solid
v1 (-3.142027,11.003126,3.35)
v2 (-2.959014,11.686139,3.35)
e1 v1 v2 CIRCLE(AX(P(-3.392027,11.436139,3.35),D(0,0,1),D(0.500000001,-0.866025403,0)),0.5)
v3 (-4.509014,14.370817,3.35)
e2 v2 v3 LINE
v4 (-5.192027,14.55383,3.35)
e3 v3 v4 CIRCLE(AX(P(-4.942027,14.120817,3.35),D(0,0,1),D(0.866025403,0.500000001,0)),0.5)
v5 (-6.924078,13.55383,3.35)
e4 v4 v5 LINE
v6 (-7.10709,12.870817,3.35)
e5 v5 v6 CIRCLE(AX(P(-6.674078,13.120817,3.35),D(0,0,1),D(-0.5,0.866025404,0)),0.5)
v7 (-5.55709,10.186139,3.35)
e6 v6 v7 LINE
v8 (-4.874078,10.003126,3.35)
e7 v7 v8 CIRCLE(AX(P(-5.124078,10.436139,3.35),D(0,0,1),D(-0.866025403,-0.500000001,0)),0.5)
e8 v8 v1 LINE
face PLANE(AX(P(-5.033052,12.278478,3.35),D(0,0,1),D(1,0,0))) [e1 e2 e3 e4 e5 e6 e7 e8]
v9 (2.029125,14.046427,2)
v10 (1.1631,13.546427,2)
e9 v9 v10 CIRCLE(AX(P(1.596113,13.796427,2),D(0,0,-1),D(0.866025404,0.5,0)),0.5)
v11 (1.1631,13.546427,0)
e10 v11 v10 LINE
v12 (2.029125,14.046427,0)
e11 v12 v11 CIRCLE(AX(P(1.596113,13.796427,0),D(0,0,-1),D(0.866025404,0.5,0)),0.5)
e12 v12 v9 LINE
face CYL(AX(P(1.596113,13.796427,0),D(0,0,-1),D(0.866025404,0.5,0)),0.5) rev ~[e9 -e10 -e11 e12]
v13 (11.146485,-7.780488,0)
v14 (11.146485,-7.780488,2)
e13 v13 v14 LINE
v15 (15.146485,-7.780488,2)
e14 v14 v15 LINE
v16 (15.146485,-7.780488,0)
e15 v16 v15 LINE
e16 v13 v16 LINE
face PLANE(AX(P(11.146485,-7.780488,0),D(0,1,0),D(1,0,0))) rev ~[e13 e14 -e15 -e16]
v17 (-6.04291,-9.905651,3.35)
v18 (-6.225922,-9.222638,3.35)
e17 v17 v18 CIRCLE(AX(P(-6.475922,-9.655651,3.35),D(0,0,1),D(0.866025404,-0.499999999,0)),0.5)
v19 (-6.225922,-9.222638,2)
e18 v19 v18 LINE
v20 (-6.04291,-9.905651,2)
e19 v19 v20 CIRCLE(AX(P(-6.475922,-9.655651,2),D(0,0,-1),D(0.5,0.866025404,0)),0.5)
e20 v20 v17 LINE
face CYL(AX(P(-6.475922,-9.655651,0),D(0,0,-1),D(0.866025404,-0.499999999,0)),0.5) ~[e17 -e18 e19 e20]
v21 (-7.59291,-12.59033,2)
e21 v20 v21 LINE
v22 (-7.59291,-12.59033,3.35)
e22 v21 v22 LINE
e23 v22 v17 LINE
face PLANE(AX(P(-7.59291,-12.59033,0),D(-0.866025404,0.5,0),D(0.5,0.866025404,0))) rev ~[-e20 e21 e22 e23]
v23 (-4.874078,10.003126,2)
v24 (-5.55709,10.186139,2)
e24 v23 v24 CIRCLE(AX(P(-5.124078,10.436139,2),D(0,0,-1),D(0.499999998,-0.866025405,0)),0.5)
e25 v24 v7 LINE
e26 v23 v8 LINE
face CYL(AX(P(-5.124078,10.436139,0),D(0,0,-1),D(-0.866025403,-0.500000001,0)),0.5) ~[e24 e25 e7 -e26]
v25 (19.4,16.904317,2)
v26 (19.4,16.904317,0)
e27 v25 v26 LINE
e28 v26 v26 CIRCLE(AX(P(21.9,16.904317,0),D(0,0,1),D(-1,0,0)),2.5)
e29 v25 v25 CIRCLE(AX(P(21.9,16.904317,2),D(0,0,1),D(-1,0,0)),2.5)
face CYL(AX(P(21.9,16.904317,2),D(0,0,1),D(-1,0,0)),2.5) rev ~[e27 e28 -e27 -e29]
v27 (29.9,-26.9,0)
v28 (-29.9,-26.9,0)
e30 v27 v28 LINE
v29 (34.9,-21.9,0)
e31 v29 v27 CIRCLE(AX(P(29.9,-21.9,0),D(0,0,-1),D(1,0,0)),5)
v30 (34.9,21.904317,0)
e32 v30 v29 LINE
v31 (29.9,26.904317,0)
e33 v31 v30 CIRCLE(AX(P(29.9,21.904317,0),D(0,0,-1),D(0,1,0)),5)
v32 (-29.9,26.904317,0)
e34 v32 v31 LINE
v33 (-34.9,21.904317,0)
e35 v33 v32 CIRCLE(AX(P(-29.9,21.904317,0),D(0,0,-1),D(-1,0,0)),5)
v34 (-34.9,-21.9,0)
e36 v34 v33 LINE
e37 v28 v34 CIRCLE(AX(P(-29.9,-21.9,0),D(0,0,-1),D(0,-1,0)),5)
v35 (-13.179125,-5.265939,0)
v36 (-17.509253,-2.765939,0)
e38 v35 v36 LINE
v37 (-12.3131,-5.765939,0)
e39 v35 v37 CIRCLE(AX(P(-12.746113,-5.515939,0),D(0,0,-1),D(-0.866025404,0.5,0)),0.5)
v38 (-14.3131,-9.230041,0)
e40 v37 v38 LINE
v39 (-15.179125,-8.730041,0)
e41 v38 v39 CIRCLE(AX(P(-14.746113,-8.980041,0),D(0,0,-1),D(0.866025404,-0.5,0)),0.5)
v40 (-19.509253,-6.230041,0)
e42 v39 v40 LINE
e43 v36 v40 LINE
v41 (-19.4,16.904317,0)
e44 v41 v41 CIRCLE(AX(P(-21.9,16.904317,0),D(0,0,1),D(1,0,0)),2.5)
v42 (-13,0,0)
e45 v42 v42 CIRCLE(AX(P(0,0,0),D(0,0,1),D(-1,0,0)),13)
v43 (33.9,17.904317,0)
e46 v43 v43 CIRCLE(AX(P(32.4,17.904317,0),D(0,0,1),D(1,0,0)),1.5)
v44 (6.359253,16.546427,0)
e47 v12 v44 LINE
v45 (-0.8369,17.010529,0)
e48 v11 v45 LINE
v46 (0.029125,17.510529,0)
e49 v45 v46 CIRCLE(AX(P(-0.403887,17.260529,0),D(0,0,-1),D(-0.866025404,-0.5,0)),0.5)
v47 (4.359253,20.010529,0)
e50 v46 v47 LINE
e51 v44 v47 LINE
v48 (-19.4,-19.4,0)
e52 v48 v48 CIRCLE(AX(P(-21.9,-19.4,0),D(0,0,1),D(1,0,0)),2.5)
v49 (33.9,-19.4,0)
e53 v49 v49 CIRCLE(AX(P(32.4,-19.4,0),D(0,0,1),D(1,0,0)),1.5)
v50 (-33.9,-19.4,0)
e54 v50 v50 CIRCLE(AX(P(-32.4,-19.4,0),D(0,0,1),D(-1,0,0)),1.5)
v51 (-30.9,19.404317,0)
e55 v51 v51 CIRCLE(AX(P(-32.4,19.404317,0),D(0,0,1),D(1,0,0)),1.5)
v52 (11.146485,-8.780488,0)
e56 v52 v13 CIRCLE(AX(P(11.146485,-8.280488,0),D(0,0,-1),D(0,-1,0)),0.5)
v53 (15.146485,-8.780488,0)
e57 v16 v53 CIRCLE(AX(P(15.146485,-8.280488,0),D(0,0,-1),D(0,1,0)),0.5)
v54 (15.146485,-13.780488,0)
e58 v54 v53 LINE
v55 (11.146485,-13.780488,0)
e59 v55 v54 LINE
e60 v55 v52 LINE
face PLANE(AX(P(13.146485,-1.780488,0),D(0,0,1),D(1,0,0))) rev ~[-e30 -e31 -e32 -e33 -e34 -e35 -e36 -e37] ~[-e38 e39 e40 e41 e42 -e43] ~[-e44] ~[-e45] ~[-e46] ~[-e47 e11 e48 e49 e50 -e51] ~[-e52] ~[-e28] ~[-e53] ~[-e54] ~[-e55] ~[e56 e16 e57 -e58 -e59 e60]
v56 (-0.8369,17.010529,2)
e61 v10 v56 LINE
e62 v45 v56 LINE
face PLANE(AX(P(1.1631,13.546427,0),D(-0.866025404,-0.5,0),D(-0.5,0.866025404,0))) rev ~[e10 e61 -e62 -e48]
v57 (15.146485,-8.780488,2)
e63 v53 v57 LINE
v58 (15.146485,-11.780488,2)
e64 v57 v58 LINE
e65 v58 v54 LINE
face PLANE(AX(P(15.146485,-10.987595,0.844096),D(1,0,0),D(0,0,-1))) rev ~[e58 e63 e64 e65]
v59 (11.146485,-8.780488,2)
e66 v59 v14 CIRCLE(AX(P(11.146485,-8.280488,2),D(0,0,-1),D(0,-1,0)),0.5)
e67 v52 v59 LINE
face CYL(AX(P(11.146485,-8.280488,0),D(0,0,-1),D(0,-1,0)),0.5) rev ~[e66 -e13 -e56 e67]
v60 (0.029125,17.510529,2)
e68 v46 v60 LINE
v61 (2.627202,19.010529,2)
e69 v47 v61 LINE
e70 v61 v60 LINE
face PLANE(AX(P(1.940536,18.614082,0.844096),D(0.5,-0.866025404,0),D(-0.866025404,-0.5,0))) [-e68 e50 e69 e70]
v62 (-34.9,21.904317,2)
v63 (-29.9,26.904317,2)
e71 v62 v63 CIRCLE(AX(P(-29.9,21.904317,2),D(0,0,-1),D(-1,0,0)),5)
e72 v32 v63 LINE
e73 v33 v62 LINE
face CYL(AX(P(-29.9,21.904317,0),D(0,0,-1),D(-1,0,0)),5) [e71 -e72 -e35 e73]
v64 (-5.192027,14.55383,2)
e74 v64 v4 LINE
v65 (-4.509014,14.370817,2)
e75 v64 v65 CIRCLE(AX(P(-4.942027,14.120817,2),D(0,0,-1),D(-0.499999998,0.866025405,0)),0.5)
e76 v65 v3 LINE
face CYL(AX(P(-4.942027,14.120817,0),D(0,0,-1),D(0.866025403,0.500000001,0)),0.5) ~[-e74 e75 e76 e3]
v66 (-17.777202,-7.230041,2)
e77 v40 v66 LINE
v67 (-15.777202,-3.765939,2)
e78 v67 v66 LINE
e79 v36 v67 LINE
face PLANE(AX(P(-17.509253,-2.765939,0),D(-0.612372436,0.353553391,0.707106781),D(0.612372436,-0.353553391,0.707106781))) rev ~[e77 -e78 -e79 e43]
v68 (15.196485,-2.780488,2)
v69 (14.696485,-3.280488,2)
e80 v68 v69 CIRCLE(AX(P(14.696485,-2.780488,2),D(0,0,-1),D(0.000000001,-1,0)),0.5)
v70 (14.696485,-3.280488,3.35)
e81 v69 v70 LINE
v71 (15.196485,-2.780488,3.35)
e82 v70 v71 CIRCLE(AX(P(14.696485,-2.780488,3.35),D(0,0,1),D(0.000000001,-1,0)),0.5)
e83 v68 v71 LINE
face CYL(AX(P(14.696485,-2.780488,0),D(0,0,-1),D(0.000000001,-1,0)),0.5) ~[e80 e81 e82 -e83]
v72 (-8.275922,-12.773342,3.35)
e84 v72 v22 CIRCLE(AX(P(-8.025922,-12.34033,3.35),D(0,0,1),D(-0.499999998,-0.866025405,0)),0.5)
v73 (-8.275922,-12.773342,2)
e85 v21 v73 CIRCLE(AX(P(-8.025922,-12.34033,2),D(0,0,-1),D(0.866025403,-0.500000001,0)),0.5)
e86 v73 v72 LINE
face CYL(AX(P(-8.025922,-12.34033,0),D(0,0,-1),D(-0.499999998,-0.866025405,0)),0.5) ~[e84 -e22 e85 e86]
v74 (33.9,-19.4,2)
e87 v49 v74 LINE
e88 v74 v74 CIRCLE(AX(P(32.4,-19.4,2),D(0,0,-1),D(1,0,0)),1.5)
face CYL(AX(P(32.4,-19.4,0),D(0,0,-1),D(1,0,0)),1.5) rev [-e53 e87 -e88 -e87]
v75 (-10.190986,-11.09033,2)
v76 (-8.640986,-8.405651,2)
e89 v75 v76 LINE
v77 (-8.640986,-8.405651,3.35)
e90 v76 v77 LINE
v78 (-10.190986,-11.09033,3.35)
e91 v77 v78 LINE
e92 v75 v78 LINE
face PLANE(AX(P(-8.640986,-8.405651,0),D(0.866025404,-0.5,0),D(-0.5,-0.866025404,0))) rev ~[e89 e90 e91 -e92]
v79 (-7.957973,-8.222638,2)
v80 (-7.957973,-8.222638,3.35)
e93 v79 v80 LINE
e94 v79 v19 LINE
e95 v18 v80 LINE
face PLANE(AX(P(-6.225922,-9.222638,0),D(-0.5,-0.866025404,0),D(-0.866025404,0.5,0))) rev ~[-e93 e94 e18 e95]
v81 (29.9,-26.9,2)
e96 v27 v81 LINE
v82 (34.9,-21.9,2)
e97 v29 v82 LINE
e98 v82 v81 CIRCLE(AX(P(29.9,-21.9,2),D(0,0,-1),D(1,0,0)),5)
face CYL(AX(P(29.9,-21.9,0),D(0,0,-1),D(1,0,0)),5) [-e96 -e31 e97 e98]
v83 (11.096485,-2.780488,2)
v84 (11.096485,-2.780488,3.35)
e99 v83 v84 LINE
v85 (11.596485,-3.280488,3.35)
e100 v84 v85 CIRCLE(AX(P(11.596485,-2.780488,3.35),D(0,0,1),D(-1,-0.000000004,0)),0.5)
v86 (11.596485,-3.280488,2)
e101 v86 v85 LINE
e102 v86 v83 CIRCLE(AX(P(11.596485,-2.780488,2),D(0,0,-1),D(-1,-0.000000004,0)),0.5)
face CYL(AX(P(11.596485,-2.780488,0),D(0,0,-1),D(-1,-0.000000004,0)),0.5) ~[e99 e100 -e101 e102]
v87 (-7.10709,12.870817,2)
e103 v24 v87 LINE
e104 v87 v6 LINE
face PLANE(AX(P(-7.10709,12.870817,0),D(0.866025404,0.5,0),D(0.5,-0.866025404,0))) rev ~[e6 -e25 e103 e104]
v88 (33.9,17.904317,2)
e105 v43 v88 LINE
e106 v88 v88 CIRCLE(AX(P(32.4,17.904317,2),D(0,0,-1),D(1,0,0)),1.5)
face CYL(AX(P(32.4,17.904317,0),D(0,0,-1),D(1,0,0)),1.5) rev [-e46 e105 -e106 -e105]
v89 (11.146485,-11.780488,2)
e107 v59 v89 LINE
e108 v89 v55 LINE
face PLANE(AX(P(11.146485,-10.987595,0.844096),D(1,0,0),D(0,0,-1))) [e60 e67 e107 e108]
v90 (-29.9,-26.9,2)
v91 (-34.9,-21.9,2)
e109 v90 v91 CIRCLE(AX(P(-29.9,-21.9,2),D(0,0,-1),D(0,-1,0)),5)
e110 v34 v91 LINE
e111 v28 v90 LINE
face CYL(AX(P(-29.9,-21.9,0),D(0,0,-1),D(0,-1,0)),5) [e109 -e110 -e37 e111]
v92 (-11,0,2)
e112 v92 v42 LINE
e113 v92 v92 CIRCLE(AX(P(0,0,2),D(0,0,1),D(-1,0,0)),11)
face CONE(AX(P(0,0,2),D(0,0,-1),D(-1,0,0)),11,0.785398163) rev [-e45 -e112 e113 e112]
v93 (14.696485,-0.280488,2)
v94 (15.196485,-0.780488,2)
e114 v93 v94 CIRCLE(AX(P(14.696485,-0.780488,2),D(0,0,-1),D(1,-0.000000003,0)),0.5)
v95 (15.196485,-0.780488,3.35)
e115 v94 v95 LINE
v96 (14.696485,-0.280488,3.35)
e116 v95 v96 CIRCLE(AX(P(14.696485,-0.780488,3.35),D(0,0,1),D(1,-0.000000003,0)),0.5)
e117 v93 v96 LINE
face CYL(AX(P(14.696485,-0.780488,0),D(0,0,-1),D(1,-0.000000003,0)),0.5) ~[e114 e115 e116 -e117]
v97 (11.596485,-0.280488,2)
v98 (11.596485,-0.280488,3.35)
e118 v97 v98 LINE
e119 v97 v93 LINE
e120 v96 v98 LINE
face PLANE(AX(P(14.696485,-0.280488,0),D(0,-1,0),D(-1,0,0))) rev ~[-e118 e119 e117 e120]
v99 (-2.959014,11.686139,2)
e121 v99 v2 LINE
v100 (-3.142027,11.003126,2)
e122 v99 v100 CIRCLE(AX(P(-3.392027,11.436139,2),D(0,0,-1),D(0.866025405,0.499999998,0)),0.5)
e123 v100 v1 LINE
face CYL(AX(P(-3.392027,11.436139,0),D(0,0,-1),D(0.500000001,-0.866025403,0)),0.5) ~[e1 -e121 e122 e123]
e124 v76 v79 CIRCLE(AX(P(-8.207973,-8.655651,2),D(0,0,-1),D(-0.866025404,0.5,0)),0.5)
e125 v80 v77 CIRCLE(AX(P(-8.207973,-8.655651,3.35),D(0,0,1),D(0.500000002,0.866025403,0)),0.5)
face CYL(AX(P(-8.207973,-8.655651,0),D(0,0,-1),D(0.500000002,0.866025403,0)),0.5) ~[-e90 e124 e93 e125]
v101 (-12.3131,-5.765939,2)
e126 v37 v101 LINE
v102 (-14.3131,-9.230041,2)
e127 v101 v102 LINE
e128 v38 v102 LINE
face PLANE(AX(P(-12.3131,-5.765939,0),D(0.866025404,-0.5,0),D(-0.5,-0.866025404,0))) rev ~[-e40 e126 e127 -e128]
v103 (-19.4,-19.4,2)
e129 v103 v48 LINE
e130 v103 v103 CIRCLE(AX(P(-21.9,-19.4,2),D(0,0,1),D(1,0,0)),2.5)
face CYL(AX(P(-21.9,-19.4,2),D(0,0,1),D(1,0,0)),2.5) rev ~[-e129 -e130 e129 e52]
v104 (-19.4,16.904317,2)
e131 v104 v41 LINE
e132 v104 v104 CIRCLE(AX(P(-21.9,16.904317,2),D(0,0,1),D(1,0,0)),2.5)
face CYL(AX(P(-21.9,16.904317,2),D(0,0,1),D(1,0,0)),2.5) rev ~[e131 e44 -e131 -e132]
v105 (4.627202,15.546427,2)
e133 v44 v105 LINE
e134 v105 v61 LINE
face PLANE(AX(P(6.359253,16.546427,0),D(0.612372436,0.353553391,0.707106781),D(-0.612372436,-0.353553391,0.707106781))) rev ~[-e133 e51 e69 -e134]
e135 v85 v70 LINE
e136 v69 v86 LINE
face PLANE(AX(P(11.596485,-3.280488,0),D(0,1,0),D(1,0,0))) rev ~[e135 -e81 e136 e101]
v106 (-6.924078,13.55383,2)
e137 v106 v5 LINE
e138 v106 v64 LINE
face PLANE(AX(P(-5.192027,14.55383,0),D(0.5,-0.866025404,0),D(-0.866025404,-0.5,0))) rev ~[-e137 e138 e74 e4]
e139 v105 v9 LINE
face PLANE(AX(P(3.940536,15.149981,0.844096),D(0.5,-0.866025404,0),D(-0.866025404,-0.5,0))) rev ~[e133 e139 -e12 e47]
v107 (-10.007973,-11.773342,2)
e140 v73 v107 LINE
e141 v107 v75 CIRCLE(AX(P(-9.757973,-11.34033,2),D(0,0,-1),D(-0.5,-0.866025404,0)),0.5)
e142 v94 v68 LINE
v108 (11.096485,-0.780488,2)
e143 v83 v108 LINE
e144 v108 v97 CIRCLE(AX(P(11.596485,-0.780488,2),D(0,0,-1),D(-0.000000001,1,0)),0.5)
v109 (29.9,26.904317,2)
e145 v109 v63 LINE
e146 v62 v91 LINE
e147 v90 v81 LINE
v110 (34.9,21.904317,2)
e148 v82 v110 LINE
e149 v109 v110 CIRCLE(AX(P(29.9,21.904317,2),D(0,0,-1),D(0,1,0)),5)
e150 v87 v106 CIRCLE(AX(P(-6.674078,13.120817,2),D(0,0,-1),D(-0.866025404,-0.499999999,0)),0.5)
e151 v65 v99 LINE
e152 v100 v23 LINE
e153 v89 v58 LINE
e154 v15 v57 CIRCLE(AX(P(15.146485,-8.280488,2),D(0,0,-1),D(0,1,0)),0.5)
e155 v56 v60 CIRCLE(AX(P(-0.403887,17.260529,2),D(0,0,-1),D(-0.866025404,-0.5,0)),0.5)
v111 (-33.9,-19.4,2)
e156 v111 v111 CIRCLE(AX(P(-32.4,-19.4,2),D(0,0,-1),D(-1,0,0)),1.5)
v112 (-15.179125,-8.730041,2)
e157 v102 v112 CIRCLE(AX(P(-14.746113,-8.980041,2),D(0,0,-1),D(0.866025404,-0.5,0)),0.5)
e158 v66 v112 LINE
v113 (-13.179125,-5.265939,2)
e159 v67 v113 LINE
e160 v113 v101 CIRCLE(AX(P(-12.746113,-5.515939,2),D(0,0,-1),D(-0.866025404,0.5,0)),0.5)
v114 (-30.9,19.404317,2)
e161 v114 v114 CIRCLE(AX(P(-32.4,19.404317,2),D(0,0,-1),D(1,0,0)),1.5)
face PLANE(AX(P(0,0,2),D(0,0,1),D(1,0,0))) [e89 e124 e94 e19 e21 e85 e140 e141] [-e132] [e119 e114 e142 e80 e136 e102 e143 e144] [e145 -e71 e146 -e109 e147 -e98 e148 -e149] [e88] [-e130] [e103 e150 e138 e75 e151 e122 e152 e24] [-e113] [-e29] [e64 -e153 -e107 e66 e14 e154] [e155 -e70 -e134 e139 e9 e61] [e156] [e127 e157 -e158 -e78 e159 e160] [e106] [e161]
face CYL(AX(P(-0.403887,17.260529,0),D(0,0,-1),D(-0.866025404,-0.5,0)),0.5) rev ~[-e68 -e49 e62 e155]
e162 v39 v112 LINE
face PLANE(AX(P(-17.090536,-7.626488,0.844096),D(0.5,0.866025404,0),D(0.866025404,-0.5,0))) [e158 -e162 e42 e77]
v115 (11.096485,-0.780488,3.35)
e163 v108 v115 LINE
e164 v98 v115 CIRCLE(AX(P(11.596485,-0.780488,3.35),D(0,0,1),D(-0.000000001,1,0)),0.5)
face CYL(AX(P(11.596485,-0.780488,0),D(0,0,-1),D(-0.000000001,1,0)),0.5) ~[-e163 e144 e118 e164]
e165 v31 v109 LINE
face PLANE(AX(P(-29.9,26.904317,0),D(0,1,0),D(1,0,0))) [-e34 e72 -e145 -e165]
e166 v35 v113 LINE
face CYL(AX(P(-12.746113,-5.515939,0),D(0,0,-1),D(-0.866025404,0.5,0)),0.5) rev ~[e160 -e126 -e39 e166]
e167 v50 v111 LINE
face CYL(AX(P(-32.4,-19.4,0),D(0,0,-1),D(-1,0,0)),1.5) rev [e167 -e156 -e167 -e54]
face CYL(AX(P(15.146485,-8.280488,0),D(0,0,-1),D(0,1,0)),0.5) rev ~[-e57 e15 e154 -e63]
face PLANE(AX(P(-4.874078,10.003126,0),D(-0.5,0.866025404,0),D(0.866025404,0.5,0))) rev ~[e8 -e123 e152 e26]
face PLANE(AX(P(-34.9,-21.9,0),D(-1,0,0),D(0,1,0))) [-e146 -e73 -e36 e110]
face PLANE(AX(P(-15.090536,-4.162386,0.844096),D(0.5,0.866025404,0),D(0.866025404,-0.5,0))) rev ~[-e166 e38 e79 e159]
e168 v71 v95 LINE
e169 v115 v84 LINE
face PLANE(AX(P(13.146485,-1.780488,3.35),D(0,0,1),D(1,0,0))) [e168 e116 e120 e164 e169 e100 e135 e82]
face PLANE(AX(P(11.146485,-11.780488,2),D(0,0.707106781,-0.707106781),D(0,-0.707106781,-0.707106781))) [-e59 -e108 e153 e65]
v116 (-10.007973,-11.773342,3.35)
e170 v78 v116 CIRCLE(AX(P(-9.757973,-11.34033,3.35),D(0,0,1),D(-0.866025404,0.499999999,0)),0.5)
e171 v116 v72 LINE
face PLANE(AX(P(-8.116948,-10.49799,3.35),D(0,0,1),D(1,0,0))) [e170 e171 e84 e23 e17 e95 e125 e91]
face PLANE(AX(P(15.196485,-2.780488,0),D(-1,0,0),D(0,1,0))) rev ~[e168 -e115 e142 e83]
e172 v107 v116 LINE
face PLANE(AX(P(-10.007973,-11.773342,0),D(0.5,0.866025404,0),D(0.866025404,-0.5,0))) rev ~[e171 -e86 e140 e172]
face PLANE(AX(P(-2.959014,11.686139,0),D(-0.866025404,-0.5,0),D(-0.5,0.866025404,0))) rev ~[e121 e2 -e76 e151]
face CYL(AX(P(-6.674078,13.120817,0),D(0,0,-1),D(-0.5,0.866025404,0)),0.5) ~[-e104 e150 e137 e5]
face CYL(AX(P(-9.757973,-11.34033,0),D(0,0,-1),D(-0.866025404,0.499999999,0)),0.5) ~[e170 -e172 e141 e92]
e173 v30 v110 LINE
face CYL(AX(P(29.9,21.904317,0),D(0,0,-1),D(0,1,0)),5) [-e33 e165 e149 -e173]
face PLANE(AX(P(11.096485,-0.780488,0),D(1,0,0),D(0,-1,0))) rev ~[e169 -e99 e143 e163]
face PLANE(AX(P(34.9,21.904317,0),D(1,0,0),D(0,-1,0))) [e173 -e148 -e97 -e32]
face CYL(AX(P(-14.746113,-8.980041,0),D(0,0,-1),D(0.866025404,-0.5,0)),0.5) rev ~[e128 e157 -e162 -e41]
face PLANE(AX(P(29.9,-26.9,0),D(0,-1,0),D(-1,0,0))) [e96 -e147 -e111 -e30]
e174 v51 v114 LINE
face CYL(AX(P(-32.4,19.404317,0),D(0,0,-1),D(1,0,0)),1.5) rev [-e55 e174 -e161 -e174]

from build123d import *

# Parameters (mm, degrees)
SKETCH_1_W          = 76
SKETCH_1_H          = 60
EXTRUDE_1_DEPTH     = 2
EXTRUDE_2_DEPTH     = 3.35
SKETCH_2_W          = 76
SKETCH_2_H          = 60
CUT_EXTRUDE_1_DEPTH = 2.95
SKETCH_3_R          = 1.715
CUT_EXTRUDE_2_DEPTH = 10
SKETCH_5_R          = 1.5
CUT_EXTRUDE_3_DEPTH = 45.193605611
SKETCH_6_R          = 2.5
CUT_EXTRUDE_4_DEPTH = 45.111815616
CUT_EXTRUDE_5_DEPTH = 4
CUT_EXTRUDE_6_DEPTH = 4
CUT_EXTRUDE_7_DEPTH = 4


with BuildPart() as part:
    # 草圖1 → 填料-伸長1 (new body)
    with BuildSketch(Plane.XY):
        Rectangle(SKETCH_1_W, SKETCH_1_H)
        with BuildLine():
            Line((-6.042909564, -9.905650781), (-7.592909564, -12.590329533))
            ThreePointArc((-7.592909564, -12.590329533), (-7.896512744, -12.823292446), (-8.275922266, -12.773342235))
            Line((-8.275922266, -12.773342235), (-10.007973074, -11.773342235))
            ThreePointArc((-10.007973074, -11.773342235), (-10.240935987, -11.469739056), (-10.190985776, -11.090329533))
            Line((-10.190985776, -11.090329533), (-8.640985776, -8.405650781))
            ThreePointArc((-8.640985776, -8.405650781), (-8.337382596, -8.172687868), (-7.957973074, -8.22263808))
            Line((-7.957973074, -8.22263808), (-6.225922266, -9.22263808))
            ThreePointArc((-6.225922266, -9.22263808), (-5.992959353, -9.526241259), (-6.042909564, -9.905650781))
        make_face(mode=Mode.SUBTRACT)
        with BuildLine():
            ThreePointArc((-14.313100093, -9.230040965), (-14.996112795, -9.413053667), (-15.179125497, -8.730040965))
            Line((-15.179125497, -8.730040965), (-13.179125497, -5.26593935))
            ThreePointArc((-13.179125497, -5.26593935), (-12.496112795, -5.082926648), (-12.313100093, -5.76593935))
            Line((-12.313100093, -5.76593935), (-14.313100093, -9.230040965))
        make_face(mode=Mode.SUBTRACT)
        with BuildLine():
            ThreePointArc((11.146484837, -8.780487805), (10.646484837, -8.280487805), (11.146484837, -7.780487805))
            Line((11.146484837, -7.780487805), (15.146484837, -7.780487805))
            ThreePointArc((15.146484837, -7.780487805), (15.646484837, -8.280487805), (15.146484837, -8.780487805))
            Line((15.146484837, -8.780487805), (11.146484837, -8.780487805))
        make_face(mode=Mode.SUBTRACT)
        with BuildLine():
            Line((-5.557090436, 10.186138586), (-7.107090436, 12.870817338))
            ThreePointArc((-7.107090436, 12.870817338), (-7.157040647, 13.250226861), (-6.924077734, 13.55383004))
            Line((-6.924077734, 13.55383004), (-5.192026926, 14.55383004))
            ThreePointArc((-5.192026926, 14.55383004), (-4.812617404, 14.603780251), (-4.509014224, 14.370817338))
            Line((-4.509014224, 14.370817338), (-2.959014224, 11.686138586))
            ThreePointArc((-2.959014224, 11.686138586), (-2.909064013, 11.306729064), (-3.142026926, 11.003125884))
            Line((-3.142026926, 11.003125884), (-4.874077734, 10.003125884))
            ThreePointArc((-4.874077734, 10.003125884), (-5.253487256, 9.953175673), (-5.557090436, 10.186138586))
        make_face(mode=Mode.SUBTRACT)
        with BuildLine():
            Line((1.163100093, 13.546427155), (-0.836899907, 17.01052877))
            ThreePointArc((-0.836899907, 17.01052877), (-0.653887205, 17.693541472), (0.029125497, 17.51052877))
            Line((0.029125497, 17.51052877), (2.029125497, 14.046427155))
            ThreePointArc((2.029125497, 14.046427155), (1.846112795, 13.363414453), (1.163100093, 13.546427155))
        make_face(mode=Mode.SUBTRACT)
    extrude(amount=EXTRUDE_1_DEPTH)

    # 草圖1<3> → 填料-伸長2 (add)
    with BuildSketch(Plane.XY):
        with BuildLine():
            Line((14.696484837, -0.280487805), (11.596484837, -0.280487805))
            ThreePointArc((11.596484837, -0.280487805), (11.242931447, -0.426934414), (11.096484837, -0.780487805))
            Line((11.096484837, -0.780487805), (11.096484837, -2.780487805))
            ThreePointArc((11.096484837, -2.780487805), (11.242931447, -3.134041195), (11.596484837, -3.280487805))
            Line((11.596484837, -3.280487805), (14.696484837, -3.280487805))
            ThreePointArc((14.696484837, -3.280487805), (15.050038228, -3.134041195), (15.196484837, -2.780487805))
            Line((15.196484837, -2.780487805), (15.196484837, -0.780487805))
            ThreePointArc((15.196484837, -0.780487805), (15.050038228, -0.426934414), (14.696484837, -0.280487805))
        make_face()
        with BuildLine():
            Line((-7.592909564, -12.590329533), (-6.042909564, -9.905650781))
            ThreePointArc((-6.042909564, -9.905650781), (-5.992959353, -9.526241259), (-6.225922266, -9.22263808))
            Line((-6.225922266, -9.22263808), (-7.957973074, -8.22263808))
            ThreePointArc((-7.957973074, -8.22263808), (-8.337382596, -8.172687868), (-8.640985776, -8.405650781))
            Line((-8.640985776, -8.405650781), (-10.190985776, -11.090329533))
            ThreePointArc((-10.190985776, -11.090329533), (-10.240935987, -11.469739056), (-10.007973074, -11.773342235))
            Line((-10.007973074, -11.773342235), (-8.275922266, -12.773342235))
            ThreePointArc((-8.275922266, -12.773342235), (-7.896512744, -12.823292446), (-7.592909564, -12.590329533))
        make_face()
        with BuildLine():
            Line((-7.107090436, 12.870817338), (-5.557090436, 10.186138586))
            ThreePointArc((-5.557090436, 10.186138586), (-5.253487256, 9.953175673), (-4.874077734, 10.003125884))
            Line((-4.874077734, 10.003125884), (-3.142026926, 11.003125884))
            ThreePointArc((-3.142026926, 11.003125884), (-2.909064013, 11.306729064), (-2.959014224, 11.686138586))
            Line((-2.959014224, 11.686138586), (-4.509014224, 14.370817338))
            ThreePointArc((-4.509014224, 14.370817338), (-4.812617404, 14.603780251), (-5.192026926, 14.55383004))
            Line((-5.192026926, 14.55383004), (-6.924077734, 13.55383004))
            ThreePointArc((-6.924077734, 13.55383004), (-7.157040647, 13.250226861), (-7.107090436, 12.870817338))
        make_face()
    extrude(amount=EXTRUDE_2_DEPTH)

    # 草圖2 → 除料-伸長1 (cut)
    with BuildSketch(Plane(origin=(0, 0, 0), x_dir=(-1, 0, 0), z_dir=(0, 0, -1))):
        Rectangle(SKETCH_2_W, SKETCH_2_H)
        with BuildLine():
            ThreePointArc((-29.9, 26.904317068), (-33.435533906, 25.439850974), (-34.9, 21.904317068))
            Line((-34.9, 21.904317068), (-34.9, -21.9))
            ThreePointArc((-34.9, -21.9), (-33.435533906, -25.435533906), (-29.9, -26.9))
            Line((-29.9, -26.9), (29.9, -26.9))
            ThreePointArc((29.9, -26.9), (33.435533906, -25.435533906), (34.9, -21.9))
            Line((34.9, -21.9), (34.9, 21.904317068))
            ThreePointArc((34.9, 21.904317068), (33.435533906, 25.439850974), (29.9, 26.904317068))
            Line((29.9, 26.904317068), (-29.9, 26.904317068))
        make_face(mode=Mode.SUBTRACT)
    extrude(amount=-CUT_EXTRUDE_1_DEPTH, mode=Mode.SUBTRACT)

    # 草圖3 → 除料-伸長2 (cut)
    with BuildSketch(Plane(origin=(0, 0, 0), x_dir=(-1, 0, 0), z_dir=(0, 0, -1))):
        Circle(SKETCH_3_R)
    extrude(amount=-CUT_EXTRUDE_2_DEPTH, mode=Mode.SUBTRACT)

    # 草圖4 → 除料-旋轉1 (revolve, cut)
    with BuildSketch(Plane(origin=(0, 0, 0), x_dir=(1, 0, 0), z_dir=(0, 1, 0)), mode=Mode.PRIVATE) as cut_revolve_1_sk:
        Polygon((0, -2), (11, -2), (13, 0), (0, 0), align=None)
    revolve(cut_revolve_1_sk.sketch.rotate(Axis((0, 0, -2.897060396), (0, 0, 1)), 180), axis=Axis((0, 0, -2.897060396), (0, 0, 1)), mode=Mode.SUBTRACT)

    # 草圖5 → 除料-伸長3 (cut, through all)
    with BuildSketch(Plane.XY):
        with Locations((32.4, 17.904317068)):
            Circle(SKETCH_5_R)
        with Locations((-32.4, 19.404317068)):
            Circle(SKETCH_5_R)
        with Locations(Location((-32.4, -19.4, 0), (0, 0, 180))):
            Circle(SKETCH_5_R)
        with Locations((32.4, -19.4)):
            Circle(SKETCH_5_R)
    extrude(amount=CUT_EXTRUDE_3_DEPTH, mode=Mode.SUBTRACT)

    # 草圖6 → 除料-伸長4 (cut, through all)
    with BuildSketch(Plane.XY.offset(2)):
        with Locations((-21.9, 16.904317068)):
            Circle(SKETCH_6_R)
        with Locations(Location((21.9, 16.904317068, 0), (0, 0, 180))):
            Circle(SKETCH_6_R)
        with Locations((-21.9, -19.4)):
            Circle(SKETCH_6_R)
    extrude(amount=-CUT_EXTRUDE_4_DEPTH, mode=Mode.SUBTRACT)

    # 草圖7 → 除料-伸長5 (cut)
    with BuildSketch(Plane.ZY.offset(-11.146484837)):
        Polygon((2, -8.780487805), (2, -11.780487805), (0, -13.780487805), (0, -8.780487805), align=None)
    extrude(amount=-CUT_EXTRUDE_5_DEPTH, mode=Mode.SUBTRACT)

    # 草圖8 → 除料-伸長6 (cut)
    with BuildSketch(Plane(origin=(-5.575, -9.656183252, 0), x_dir=(0.8660254037844398, -0.499999999999998, 0), z_dir=(0.49999999999999806, 0.8660254037844399, 0))):
        Polygon((-8.780487805, -2), (-8.780487805, 0), (-13.780487805, 0), (-11.780487805, -2), align=None)
    extrude(amount=-CUT_EXTRUDE_6_DEPTH, mode=Mode.SUBTRACT)

    # 草圖9 → 除料-伸長7 (cut)
    with BuildSketch(Plane(origin=(-5.575, 9.656183252, 0), x_dir=(-0.8660254037844397, -0.49999999999999806, 0), z_dir=(0.49999999999999806, -0.8660254037844397, 0))):
        Polygon((-8.780487805, -2), (-8.780487805, 0), (-13.780487805, 0), (-11.780487805, -2), align=None)
    extrude(amount=-CUT_EXTRUDE_7_DEPTH, mode=Mode.SUBTRACT)


solid = part.part
